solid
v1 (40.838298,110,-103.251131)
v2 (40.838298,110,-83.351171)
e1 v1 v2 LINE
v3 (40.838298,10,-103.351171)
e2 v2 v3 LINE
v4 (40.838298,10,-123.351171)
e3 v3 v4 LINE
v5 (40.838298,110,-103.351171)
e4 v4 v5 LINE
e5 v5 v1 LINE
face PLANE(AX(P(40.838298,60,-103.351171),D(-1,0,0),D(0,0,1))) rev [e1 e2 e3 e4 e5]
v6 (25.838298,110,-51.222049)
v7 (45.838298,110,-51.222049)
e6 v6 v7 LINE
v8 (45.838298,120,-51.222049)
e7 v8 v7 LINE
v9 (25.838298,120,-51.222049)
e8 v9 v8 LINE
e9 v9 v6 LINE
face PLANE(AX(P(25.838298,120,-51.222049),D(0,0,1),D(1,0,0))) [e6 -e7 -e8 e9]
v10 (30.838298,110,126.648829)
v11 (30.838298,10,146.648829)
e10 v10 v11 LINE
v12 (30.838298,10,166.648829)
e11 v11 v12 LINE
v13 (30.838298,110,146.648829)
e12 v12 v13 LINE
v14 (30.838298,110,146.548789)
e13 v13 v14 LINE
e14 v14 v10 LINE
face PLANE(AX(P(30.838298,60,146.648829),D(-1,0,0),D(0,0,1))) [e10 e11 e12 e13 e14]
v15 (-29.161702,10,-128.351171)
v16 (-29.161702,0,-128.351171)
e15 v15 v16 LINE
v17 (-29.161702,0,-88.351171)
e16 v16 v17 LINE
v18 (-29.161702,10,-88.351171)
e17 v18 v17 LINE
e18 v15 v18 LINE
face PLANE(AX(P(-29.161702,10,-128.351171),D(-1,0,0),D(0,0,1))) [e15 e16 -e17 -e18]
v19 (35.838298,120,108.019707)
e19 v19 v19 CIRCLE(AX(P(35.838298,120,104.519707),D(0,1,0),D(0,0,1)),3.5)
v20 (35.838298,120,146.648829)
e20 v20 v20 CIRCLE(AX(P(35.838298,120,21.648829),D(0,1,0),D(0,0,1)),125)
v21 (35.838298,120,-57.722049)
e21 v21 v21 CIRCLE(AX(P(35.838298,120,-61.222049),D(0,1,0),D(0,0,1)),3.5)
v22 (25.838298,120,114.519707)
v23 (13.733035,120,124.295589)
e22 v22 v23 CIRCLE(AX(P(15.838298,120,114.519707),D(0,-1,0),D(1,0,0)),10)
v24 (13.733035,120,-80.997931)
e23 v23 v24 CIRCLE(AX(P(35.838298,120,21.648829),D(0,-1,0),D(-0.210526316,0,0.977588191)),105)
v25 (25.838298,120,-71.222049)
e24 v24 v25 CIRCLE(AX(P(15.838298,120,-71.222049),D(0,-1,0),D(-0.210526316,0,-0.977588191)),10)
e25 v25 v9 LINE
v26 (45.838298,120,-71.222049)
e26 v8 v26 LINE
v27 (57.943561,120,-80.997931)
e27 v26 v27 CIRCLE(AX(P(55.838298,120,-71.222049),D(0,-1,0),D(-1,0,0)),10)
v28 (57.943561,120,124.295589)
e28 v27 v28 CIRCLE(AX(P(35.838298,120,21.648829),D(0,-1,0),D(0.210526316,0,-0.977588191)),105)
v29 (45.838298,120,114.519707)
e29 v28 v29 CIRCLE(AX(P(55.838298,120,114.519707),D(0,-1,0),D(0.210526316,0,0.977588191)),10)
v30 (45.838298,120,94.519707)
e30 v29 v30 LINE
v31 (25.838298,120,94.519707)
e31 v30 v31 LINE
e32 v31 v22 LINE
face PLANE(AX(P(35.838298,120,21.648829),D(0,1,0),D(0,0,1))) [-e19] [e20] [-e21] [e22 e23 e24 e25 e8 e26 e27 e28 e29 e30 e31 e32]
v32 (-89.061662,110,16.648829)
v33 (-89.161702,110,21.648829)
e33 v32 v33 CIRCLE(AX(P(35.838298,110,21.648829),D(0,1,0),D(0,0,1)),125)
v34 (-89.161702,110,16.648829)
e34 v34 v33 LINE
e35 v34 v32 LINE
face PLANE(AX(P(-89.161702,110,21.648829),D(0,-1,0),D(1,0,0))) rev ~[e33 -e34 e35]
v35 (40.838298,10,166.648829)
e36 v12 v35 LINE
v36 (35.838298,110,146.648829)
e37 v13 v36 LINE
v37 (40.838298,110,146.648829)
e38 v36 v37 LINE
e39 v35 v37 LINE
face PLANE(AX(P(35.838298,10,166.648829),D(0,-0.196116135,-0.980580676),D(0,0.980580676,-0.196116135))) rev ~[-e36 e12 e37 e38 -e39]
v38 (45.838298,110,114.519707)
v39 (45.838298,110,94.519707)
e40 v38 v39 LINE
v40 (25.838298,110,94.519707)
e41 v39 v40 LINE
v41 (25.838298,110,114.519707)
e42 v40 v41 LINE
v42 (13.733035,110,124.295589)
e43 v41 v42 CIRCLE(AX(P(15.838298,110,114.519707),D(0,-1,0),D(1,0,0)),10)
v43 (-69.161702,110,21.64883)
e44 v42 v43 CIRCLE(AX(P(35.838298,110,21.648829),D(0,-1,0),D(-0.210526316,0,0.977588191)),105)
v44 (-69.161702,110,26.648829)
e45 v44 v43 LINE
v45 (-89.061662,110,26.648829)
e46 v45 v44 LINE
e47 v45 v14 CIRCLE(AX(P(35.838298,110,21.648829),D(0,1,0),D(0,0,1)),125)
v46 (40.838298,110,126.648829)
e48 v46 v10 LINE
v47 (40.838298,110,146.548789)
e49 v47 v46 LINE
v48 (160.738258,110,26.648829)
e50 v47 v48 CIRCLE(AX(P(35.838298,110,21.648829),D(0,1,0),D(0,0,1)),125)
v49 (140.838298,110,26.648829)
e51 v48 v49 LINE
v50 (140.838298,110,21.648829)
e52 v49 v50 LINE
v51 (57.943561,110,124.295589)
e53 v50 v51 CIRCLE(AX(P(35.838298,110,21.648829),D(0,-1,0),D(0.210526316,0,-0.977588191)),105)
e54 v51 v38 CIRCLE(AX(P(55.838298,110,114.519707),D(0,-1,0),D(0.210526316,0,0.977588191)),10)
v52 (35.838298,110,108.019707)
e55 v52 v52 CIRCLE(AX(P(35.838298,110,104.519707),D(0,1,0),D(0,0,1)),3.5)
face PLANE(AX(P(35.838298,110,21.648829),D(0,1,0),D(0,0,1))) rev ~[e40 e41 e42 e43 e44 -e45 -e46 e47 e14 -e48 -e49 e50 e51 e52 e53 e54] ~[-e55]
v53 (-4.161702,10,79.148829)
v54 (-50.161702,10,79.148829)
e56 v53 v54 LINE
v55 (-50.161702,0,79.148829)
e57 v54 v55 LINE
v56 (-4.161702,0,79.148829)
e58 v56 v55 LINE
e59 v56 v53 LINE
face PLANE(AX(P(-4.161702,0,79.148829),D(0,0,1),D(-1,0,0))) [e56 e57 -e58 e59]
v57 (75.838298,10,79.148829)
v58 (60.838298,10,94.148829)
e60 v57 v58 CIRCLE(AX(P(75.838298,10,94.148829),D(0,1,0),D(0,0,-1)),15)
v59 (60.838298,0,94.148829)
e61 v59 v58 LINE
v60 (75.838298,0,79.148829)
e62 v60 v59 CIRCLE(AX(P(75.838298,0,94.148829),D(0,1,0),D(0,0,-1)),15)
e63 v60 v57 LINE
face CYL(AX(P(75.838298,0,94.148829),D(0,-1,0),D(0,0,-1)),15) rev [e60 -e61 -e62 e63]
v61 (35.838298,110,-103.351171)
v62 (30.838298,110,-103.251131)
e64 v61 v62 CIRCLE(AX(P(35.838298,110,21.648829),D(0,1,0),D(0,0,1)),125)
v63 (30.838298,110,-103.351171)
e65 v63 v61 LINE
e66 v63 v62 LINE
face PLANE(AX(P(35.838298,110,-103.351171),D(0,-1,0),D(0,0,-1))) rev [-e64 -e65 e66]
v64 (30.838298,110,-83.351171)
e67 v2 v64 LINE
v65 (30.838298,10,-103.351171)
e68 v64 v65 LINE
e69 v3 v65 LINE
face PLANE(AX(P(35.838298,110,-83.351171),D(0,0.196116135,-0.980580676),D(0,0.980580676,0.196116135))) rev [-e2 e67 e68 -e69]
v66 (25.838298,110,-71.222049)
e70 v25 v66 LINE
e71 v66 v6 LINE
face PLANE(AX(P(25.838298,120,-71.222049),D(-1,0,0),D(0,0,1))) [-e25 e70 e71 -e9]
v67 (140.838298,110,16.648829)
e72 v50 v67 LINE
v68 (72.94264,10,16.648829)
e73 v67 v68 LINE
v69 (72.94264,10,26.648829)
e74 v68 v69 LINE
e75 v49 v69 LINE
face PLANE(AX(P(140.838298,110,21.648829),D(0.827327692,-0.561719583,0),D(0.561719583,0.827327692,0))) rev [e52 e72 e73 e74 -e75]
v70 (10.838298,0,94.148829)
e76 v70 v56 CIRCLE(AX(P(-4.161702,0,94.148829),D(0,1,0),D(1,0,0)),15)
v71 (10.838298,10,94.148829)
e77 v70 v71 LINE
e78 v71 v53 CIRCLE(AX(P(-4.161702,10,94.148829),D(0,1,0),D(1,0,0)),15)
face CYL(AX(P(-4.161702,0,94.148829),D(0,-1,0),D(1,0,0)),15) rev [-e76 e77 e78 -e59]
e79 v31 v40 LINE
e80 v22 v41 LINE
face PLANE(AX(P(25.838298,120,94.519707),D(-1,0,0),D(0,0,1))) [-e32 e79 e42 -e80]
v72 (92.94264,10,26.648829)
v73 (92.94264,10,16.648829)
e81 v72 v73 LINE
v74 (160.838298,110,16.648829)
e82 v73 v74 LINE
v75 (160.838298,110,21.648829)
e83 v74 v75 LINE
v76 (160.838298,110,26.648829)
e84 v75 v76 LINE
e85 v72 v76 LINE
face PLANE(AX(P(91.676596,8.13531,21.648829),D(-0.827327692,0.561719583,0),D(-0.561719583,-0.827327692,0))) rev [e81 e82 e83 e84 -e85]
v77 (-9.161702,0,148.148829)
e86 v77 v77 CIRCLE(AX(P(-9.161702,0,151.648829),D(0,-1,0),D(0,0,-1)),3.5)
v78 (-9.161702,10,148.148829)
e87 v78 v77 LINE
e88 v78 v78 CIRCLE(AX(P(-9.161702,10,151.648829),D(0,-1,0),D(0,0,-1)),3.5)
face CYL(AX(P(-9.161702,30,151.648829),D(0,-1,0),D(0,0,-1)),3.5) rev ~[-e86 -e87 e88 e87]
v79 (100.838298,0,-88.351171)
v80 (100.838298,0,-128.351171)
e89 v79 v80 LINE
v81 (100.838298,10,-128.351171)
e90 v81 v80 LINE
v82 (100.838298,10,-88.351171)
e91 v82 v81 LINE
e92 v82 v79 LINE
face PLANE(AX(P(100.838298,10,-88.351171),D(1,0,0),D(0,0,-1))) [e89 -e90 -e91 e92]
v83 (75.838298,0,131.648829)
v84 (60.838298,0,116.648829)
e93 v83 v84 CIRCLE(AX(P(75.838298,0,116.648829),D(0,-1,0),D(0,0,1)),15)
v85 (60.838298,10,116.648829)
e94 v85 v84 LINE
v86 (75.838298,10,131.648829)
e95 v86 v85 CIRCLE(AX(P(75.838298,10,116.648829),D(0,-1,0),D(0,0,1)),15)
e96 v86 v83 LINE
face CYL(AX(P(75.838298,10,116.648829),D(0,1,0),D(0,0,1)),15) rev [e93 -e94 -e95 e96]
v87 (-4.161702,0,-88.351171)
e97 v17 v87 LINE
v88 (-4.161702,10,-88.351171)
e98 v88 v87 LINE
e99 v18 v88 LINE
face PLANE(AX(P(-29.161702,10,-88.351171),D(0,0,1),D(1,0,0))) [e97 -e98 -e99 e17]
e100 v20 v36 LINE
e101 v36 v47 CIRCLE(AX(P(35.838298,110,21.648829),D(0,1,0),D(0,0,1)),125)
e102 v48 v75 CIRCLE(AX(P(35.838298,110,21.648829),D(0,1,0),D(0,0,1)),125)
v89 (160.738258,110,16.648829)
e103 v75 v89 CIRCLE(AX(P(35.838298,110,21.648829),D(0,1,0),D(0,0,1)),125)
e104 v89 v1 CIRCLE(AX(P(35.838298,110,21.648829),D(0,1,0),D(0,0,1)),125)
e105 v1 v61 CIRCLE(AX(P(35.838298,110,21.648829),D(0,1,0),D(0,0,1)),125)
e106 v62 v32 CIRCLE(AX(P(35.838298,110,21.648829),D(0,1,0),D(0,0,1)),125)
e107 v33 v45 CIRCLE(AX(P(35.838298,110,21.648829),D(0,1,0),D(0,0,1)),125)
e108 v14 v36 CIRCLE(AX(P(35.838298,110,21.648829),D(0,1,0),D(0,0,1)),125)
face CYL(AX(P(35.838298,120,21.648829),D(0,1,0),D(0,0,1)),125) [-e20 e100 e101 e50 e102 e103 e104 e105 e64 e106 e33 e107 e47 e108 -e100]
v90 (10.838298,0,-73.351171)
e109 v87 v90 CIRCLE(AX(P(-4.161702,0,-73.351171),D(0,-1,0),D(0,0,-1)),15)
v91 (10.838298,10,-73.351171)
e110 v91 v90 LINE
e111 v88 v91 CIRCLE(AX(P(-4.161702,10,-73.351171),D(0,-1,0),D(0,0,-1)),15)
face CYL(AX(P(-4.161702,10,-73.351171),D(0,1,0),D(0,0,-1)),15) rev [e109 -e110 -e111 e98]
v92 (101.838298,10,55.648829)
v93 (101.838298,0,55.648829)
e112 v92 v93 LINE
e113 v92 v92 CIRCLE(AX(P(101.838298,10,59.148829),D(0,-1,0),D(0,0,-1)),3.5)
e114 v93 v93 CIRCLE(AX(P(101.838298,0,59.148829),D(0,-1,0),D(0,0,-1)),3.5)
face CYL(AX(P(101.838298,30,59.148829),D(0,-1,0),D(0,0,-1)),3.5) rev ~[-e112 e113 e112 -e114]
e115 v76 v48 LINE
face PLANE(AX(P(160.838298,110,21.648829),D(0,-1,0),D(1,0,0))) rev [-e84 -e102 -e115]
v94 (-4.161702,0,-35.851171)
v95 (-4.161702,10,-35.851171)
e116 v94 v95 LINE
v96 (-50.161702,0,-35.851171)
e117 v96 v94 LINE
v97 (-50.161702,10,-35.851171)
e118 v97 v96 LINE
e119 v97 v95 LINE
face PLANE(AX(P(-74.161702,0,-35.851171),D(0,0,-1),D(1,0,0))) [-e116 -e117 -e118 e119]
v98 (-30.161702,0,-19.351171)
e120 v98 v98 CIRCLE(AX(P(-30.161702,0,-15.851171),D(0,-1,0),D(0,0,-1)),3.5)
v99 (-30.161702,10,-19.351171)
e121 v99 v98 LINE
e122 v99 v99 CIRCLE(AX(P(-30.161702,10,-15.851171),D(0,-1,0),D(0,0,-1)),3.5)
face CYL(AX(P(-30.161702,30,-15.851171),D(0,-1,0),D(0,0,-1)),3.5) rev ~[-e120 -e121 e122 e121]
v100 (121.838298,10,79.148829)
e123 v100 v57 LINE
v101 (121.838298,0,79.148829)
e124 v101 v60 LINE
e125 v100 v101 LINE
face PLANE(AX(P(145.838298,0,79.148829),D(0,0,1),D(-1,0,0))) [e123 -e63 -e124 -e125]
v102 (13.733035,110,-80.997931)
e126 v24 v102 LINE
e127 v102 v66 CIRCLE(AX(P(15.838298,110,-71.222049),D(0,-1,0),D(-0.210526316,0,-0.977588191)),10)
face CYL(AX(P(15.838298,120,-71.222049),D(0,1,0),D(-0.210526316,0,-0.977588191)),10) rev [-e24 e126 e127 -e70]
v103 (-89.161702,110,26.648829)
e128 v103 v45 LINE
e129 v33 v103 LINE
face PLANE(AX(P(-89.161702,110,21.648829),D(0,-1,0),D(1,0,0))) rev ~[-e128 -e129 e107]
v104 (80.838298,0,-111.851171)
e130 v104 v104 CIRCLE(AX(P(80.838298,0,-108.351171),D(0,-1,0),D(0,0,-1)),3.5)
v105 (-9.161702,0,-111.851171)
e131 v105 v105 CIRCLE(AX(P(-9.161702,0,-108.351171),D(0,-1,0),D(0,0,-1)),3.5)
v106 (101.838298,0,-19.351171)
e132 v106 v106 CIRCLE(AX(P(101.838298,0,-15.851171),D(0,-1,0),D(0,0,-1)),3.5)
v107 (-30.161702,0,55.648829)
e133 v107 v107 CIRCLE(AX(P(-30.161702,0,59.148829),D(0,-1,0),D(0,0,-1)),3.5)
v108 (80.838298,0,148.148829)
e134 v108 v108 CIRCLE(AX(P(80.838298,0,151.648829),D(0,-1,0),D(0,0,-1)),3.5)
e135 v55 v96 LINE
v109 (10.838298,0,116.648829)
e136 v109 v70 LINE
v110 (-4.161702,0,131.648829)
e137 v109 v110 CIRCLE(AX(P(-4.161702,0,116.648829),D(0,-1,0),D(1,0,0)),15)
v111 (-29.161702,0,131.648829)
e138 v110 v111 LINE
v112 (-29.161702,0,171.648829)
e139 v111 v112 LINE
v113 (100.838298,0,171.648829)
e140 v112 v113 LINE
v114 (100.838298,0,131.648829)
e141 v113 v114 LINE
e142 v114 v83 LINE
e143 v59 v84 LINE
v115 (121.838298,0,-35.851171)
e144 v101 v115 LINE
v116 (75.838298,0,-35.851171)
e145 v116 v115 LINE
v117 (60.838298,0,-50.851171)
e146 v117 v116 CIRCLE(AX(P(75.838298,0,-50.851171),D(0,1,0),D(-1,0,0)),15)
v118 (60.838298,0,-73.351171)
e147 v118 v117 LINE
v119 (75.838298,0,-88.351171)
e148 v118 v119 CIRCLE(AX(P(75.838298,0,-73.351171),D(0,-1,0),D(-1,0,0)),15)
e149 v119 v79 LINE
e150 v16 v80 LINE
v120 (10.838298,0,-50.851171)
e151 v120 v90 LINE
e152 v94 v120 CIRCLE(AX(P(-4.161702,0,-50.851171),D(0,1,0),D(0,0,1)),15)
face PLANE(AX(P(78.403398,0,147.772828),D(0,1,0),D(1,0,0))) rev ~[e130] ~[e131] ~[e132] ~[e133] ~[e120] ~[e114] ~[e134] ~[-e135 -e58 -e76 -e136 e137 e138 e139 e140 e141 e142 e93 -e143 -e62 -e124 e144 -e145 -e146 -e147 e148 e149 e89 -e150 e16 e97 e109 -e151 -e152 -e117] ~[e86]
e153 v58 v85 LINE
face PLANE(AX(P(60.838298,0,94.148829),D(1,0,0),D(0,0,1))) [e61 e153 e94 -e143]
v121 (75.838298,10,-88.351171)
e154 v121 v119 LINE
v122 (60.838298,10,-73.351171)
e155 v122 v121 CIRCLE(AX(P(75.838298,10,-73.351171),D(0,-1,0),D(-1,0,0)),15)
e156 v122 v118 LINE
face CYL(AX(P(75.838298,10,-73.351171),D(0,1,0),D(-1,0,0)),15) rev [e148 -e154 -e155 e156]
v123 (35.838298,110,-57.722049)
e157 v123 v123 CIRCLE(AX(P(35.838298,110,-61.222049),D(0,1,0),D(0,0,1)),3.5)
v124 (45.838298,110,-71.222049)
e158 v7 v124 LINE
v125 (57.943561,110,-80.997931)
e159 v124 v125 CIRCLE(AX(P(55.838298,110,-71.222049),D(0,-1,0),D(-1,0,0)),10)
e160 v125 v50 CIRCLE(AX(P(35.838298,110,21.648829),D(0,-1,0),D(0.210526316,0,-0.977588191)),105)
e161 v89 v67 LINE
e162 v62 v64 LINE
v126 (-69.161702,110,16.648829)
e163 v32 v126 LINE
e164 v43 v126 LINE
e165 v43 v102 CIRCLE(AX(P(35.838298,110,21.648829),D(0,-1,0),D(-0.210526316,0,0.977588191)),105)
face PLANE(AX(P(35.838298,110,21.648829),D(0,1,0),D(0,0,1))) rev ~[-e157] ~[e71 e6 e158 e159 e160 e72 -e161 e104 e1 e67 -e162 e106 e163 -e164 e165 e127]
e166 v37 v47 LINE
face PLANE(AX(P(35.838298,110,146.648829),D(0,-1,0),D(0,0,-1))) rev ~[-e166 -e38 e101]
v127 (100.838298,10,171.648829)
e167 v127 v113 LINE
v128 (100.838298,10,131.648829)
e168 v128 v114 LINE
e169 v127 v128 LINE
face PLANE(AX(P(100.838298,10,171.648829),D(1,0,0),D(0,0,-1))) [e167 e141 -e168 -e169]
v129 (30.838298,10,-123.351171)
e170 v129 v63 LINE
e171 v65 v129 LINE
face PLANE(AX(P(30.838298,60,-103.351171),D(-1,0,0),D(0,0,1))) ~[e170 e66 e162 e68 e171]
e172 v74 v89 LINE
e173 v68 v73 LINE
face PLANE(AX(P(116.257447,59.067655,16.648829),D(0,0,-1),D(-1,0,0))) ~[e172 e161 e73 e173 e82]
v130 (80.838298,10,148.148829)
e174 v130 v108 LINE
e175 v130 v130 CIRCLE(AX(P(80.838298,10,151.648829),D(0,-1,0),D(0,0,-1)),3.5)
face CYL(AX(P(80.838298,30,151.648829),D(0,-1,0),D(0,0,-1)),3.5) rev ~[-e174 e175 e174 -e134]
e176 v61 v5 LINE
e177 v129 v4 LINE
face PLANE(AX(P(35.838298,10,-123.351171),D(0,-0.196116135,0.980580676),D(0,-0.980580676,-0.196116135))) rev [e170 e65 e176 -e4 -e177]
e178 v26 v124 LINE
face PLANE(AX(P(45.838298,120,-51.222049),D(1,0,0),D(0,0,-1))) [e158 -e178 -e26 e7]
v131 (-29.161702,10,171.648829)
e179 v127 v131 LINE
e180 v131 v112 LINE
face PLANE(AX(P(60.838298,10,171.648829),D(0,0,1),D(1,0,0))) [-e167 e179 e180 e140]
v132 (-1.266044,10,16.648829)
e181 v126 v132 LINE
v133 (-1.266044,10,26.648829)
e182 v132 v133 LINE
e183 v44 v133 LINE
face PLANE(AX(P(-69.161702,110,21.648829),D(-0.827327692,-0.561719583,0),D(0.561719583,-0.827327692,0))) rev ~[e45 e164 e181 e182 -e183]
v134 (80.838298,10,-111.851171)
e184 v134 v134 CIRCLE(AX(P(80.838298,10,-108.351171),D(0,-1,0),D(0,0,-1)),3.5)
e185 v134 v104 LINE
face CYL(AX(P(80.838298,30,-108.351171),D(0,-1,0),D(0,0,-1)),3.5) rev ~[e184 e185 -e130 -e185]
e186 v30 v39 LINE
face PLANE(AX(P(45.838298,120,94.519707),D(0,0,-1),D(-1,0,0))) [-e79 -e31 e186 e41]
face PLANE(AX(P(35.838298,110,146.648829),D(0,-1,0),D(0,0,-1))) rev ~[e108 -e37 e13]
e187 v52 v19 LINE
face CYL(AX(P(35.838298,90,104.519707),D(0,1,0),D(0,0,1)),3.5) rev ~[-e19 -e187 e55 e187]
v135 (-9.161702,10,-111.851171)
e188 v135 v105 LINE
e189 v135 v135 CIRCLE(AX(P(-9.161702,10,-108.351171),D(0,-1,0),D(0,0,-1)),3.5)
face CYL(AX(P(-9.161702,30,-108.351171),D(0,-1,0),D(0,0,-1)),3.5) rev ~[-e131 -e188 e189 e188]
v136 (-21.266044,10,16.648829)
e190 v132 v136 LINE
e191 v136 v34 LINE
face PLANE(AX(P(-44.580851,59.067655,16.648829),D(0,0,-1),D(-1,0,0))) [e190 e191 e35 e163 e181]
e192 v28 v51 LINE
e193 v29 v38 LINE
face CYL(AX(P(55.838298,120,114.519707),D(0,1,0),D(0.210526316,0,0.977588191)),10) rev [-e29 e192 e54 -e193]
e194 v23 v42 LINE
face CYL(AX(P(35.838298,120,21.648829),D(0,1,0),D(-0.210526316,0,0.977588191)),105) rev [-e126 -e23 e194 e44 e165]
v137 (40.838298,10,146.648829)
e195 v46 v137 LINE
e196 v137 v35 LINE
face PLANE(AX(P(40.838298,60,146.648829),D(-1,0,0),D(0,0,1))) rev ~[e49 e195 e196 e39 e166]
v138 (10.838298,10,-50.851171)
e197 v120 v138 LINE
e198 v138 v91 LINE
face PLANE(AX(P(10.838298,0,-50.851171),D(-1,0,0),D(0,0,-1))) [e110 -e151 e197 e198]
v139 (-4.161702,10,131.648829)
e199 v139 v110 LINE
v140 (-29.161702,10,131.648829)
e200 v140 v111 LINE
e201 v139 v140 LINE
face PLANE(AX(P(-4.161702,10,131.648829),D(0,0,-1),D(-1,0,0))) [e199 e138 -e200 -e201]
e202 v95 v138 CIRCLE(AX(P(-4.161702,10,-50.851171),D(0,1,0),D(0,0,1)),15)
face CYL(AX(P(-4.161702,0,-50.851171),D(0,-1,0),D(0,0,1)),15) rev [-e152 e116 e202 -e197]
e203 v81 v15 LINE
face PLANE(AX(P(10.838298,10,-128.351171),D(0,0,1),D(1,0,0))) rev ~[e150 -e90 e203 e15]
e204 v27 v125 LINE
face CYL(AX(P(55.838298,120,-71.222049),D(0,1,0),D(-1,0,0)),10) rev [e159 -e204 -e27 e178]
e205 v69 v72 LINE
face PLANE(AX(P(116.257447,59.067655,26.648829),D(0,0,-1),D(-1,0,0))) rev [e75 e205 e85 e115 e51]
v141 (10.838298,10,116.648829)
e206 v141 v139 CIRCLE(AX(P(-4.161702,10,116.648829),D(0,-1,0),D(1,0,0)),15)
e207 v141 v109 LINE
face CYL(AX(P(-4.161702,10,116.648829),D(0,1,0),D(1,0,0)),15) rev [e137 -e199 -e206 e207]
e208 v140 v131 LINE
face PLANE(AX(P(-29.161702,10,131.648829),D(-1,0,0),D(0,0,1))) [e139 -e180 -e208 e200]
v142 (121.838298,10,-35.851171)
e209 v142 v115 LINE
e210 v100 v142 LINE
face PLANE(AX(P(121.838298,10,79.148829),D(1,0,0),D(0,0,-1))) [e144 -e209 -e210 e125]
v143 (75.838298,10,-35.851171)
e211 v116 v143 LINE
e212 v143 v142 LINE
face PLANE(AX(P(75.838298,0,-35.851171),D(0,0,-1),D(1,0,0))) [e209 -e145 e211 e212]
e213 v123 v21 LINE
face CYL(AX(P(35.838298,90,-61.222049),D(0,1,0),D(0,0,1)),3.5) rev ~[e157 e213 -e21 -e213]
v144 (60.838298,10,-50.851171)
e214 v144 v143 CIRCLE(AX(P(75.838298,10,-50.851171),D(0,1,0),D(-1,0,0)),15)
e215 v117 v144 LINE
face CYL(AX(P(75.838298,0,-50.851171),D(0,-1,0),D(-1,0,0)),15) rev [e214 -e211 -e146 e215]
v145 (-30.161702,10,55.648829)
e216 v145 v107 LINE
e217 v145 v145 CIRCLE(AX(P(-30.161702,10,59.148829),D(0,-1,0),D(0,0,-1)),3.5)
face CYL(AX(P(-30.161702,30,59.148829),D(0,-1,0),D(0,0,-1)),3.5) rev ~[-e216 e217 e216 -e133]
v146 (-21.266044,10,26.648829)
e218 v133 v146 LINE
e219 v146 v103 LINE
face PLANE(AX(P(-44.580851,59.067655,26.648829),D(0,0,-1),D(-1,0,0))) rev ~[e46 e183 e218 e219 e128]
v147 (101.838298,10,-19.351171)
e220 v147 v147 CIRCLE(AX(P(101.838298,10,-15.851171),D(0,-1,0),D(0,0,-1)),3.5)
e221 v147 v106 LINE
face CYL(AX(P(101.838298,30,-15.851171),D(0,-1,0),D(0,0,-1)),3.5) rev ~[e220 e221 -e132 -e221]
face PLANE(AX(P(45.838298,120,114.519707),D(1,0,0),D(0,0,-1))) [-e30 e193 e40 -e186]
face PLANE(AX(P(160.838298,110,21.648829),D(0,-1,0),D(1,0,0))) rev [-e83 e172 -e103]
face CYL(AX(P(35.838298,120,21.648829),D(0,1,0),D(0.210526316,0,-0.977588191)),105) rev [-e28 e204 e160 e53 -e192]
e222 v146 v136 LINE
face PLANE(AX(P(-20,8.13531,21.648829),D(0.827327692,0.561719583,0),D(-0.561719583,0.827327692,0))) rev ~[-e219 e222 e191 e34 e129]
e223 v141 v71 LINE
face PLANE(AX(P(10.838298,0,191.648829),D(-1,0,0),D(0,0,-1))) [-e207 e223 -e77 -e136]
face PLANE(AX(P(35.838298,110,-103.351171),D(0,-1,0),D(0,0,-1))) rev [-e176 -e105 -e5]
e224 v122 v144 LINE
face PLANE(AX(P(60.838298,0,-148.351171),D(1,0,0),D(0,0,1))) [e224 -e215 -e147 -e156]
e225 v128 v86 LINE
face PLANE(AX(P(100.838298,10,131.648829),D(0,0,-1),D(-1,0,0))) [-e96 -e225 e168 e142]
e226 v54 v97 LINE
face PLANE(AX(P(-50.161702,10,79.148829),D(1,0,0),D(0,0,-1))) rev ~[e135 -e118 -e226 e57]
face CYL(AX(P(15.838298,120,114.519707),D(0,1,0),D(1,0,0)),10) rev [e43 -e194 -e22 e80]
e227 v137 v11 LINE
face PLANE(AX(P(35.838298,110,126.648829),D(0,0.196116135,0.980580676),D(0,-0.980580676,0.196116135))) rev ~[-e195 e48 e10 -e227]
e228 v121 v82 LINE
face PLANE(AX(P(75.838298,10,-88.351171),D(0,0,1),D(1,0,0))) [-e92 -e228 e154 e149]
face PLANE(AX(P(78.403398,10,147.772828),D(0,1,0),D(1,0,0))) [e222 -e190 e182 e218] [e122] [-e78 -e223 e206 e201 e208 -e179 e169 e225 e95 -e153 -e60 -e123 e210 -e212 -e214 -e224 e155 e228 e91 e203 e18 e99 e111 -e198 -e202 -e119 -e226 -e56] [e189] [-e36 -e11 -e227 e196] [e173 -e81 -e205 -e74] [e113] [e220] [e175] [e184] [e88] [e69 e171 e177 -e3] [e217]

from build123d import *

# Parameters (mm, degrees)
AUFSATZ_LINEAR_AUSTRAGEN1_DEPTH    = 10
SKIZZE6_R                          = 125
AUFSATZ_LINEAR_AUSTRAGEN2_DEPTH    = 10
AUFSATZ_LINEAR_AUSTRAGEN3_DEPTH    = 5
SKIZZE8_W                          = 50
SKIZZE8_H                          = 20
SCHNITT_LINEAR_AUSTRAGEN1_DEPTH    = 10
AUFSATZ_LINEAR_AUSTRAGEN4_DEPTH    = 10
SKIZZE14_W                         = 24
SKIZZE14_H                         = 115
SCHNITT_LINEAR_AUSTRAGEN2_DEPTH    = 10
SKIZZE15_W                         = 24
SKIZZE15_H                         = 115
SCHNITT_LINEAR_AUSTRAGEN3_DEPTH    = 10
AUFSATZ_LINEAR_AUSTRAGEN8_DEPTH    = 5
KERNLOCH_F_R_M8X1_0_GEWINDE2_D     = 7
KERNLOCH_F_R_M8X1_0_GEWINDE2_DEPTH = 20
KERNLOCH_F_R_M8X1_0_GEWINDE2_TIP   = 2.103012167
KERNLOCH_F_R_M8X1_0_GEWINDE3_D     = 7
KERNLOCH_F_R_M8X1_0_GEWINDE3_DEPTH = 20
KERNLOCH_F_R_M8X1_0_GEWINDE3_TIP   = 2.103012167


with BuildPart() as part:
    # Skizze1 → Aufsatz-Linear austragen1 (new body)
    with BuildSketch(Plane(origin=(0, 0, 0), x_dir=(1, 0, 0), z_dir=(0, 1, 0))):
        with BuildLine():
            Line((75.838298065, 35.851170731), (145.838298065, 35.851170731))
            Line((145.838298065, 35.851170731), (145.838298065, -79.148829269))
            Line((145.838298065, -79.148829269), (75.838298065, -79.148829269))
            ThreePointArc((75.838298065, -79.148829269), (65.231696347, -83.542227551), (60.838298065, -94.148829269))
            Line((60.838298065, -94.148829269), (60.838298065, -191.648829269))
            Line((60.838298065, -191.648829269), (10.838298065, -191.648829269))
            Line((10.838298065, -191.648829269), (10.838298065, -94.148829269))
            ThreePointArc((10.838298065, -94.148829269), (6.444899783, -83.542227551), (-4.161701935, -79.148829269))
            Line((-4.161701935, -79.148829269), (-74.161701935, -79.148829269))
            Line((-74.161701935, -79.148829269), (-74.161701935, 35.851170731))
            Line((-74.161701935, 35.851170731), (-4.161701935, 35.851170731))
            ThreePointArc((-4.161701935, 35.851170731), (6.444899783, 40.244569014), (10.838298065, 50.851170731))
            Line((10.838298065, 50.851170731), (10.838298065, 148.351170731))
            Line((10.838298065, 148.351170731), (60.838298065, 148.351170731))
            Line((60.838298065, 148.351170731), (60.838298065, 50.851170731))
            ThreePointArc((60.838298065, 50.851170731), (65.231696347, 40.244569014), (75.838298065, 35.851170731))
        make_face()
    extrude(amount=AUFSATZ_LINEAR_AUSTRAGEN1_DEPTH)



with BuildPart() as body_2:
    # Skizze6 → Aufsatz-Linear austragen2 (new body)
    with BuildSketch(Plane(origin=(0, 120, 0), x_dir=(1, 0, 0), z_dir=(0, 1, 0))):
        with Locations(Location((35.838298065, -21.648829269, 0), (0, 0, 270))):  # turned: the seam where the file's is
            Circle(SKIZZE6_R)
        with BuildLine():
            Line((25.838298065, 71.222048837), (25.838298065, 51.222048837))
            Line((25.838298065, 51.222048837), (45.838298065, 51.222048837))
            Line((45.838298065, 51.222048837), (45.838298065, 71.222048837))
            ThreePointArc((45.838298065, 71.222048837), (49.55548944, 79.001914889), (57.943561223, 80.997930742))
            ThreePointArc((57.943561223, 80.997930742), (140.838298065, -21.648829269), (57.943561223, -124.295589279))
            ThreePointArc((57.943561223, -124.295589279), (49.55548944, -122.299573426), (45.838298065, -114.519707374))
            Line((45.838298065, -114.519707374), (45.838298065, -94.519707374))
            Line((45.838298065, -94.519707374), (25.838298065, -94.519707374))
            Line((25.838298065, -94.519707374), (25.838298065, -114.519707374))
            ThreePointArc((25.838298065, -114.519707374), (22.121106689, -122.299573426), (13.733034907, -124.295589279))
            ThreePointArc((13.733034907, -124.295589279), (-69.161701935, -21.648829269), (13.733034907, 80.997930742))
            ThreePointArc((13.733034907, 80.997930742), (22.121106689, 79.001914889), (25.838298065, 71.222048837))
        make_face(mode=Mode.SUBTRACT)
    extrude(amount=-AUFSATZ_LINEAR_AUSTRAGEN2_DEPTH)


with BuildPart() as part_1:
    add(part.part)

    add(body_2.part)  # Aufsatz-Linear austragen3 merges body 2
    # Skizze7 → Aufsatz-Linear austragen3 (add, symmetric)
    with BuildSketch(Plane(origin=(35.838298065, 0, 0), x_dir=(0, 0, -1), z_dir=(1, 0, 0))):
        Polygon((-146.648829269, 110), (-126.648829269, 110), (-146.648829269, 10), (-166.648829269, 10), align=None)
    aufsatz_linear_austragen3 = extrude(amount=AUFSATZ_LINEAR_AUSTRAGEN3_DEPTH, both=True)

    # Spiegeln1: Aufsatz-Linear austragen3 across plane
    add(aufsatz_linear_austragen3.mirror(Plane.XY.offset(21.648829269)))

    # Skizze8 → Schnitt-Linear austragen1 (cut)
    with BuildSketch(Plane(origin=(0, 10, 0), x_dir=(1, 0, 0), z_dir=(0, 1, 0))):
        with Locations((35.838298065, 138.351170731)):
            Rectangle(SKIZZE8_W, SKIZZE8_H)
        with Locations((35.838298065, -181.648829269)):
            Rectangle(SKIZZE8_W, SKIZZE8_H)
    extrude(amount=-SCHNITT_LINEAR_AUSTRAGEN1_DEPTH, mode=Mode.SUBTRACT)

    # Skizze9 → Aufsatz-Linear austragen4 (add)
    with BuildSketch(Plane(origin=(0, 10, 0), x_dir=(1, 0, 0), z_dir=(0, 1, 0))):
        with BuildLine():
            Line((60.838298065, -131.648829269), (60.838298065, -171.648829269))
            Line((60.838298065, -171.648829269), (100.838298065, -171.648829269))
            Line((100.838298065, -171.648829269), (100.838298065, -131.648829269))
            Line((100.838298065, -131.648829269), (75.838298065, -131.648829269))
            ThreePointArc((75.838298065, -131.648829269), (65.231696347, -127.255430986), (60.838298065, -116.648829269))
            Line((60.838298065, -116.648829269), (60.838298065, -131.648829269))
        make_face()
        with BuildLine():
            Line((-29.161701935, -171.648829269), (10.838298065, -171.648829269))
            Line((10.838298065, -171.648829269), (10.838298065, -131.648829269))
            Line((10.838298065, -131.648829269), (10.838298065, -116.648829269))
            ThreePointArc((10.838298065, -116.648829269), (6.444899783, -127.255430986), (-4.161701935, -131.648829269))
            Line((-4.161701935, -131.648829269), (-29.161701935, -131.648829269))
            Line((-29.161701935, -131.648829269), (-29.161701935, -171.648829269))
        make_face()
        with BuildLine():
            Line((100.838298065, 128.351170731), (60.838298065, 128.351170731))
            Line((60.838298065, 128.351170731), (60.838298065, 88.351170731))
            Line((60.838298065, 88.351170731), (60.838298065, 73.351170731))
            ThreePointArc((60.838298065, 73.351170731), (65.231696347, 83.957772449), (75.838298065, 88.351170731))
            Line((75.838298065, 88.351170731), (100.838298065, 88.351170731))
            Line((100.838298065, 88.351170731), (100.838298065, 128.351170731))
        make_face()
        with BuildLine():
            Line((10.838298065, 88.351170731), (10.838298065, 128.351170731))
            Line((10.838298065, 128.351170731), (-29.161701935, 128.351170731))
            Line((-29.161701935, 128.351170731), (-29.161701935, 88.351170731))
            Line((-29.161701935, 88.351170731), (-4.161701935, 88.351170731))
            ThreePointArc((-4.161701935, 88.351170731), (6.444899783, 83.957772449), (10.838298065, 73.351170731))
            Line((10.838298065, 73.351170731), (10.838298065, 88.351170731))
        make_face()
    extrude(amount=-AUFSATZ_LINEAR_AUSTRAGEN4_DEPTH)

    # Skizze14 → Schnitt-Linear austragen2 (cut)
    with BuildSketch(Plane(origin=(0, 10, 0), x_dir=(1, 0, 0), z_dir=(0, 1, 0))):
        with Locations((133.838298065, -21.648829269)):
            Rectangle(SKIZZE14_W, SKIZZE14_H)
    extrude(amount=-SCHNITT_LINEAR_AUSTRAGEN2_DEPTH, mode=Mode.SUBTRACT)

    # Skizze15 → Schnitt-Linear austragen3 (cut)
    with BuildSketch(Plane(origin=(0, 10, 0), x_dir=(1, 0, 0), z_dir=(0, 1, 0))):
        with Locations((-62.161701935, -21.648829269)):
            Rectangle(SKIZZE15_W, SKIZZE15_H)
    extrude(amount=-SCHNITT_LINEAR_AUSTRAGEN3_DEPTH, mode=Mode.SUBTRACT)

    # Skizze16 → Aufsatz-Linear austragen8 (add, symmetric)
    with BuildSketch(Plane.XY.offset(21.648829269)):
        Polygon((-89.161701935, 110), (-69.161701935, 110), (0, 8.135310029), (-20, 8.135310029), align=None)
    aufsatz_linear_austragen8 = extrude(amount=AUFSATZ_LINEAR_AUSTRAGEN8_DEPTH, both=True)

    # Spiegeln5: Aufsatz-Linear austragen8 across plane
    add(aufsatz_linear_austragen8.mirror(Plane(origin=(35.838298065, 0, 0), x_dir=(0, 0, 1), z_dir=(1, 0, 0))))

    # Kernloch für M8x1.0 Gewinde2
    with Locations(Plane(origin=(35.838298065, 110, -61.222048837), x_dir=(0, 0, -1), z_dir=(0, -1, 0))):
        with Locations((0, 0), (-165.741756211, 0)):
            Hole(KERNLOCH_F_R_M8X1_0_GEWINDE2_D / 2, depth=KERNLOCH_F_R_M8X1_0_GEWINDE2_DEPTH)
            with Locations((0, 0, -(KERNLOCH_F_R_M8X1_0_GEWINDE2_DEPTH + KERNLOCH_F_R_M8X1_0_GEWINDE2_TIP / 2))):  # 118° drill point
                Cone(0, KERNLOCH_F_R_M8X1_0_GEWINDE2_D / 2, KERNLOCH_F_R_M8X1_0_GEWINDE2_TIP, mode=Mode.SUBTRACT)

    # Kernloch für M8x1.0 Gewinde3
    with Locations(Plane(origin=(101.838298065, 10, -15.851170731), x_dir=(0, 0, 1), z_dir=(0, 1, 0))):
        with Locations((0, 0), (75, 0), (0, -132), (-92.5, -111), (75, -132), (167.5, -111), (167.5, -21), (-92.5, -21)):
            Hole(KERNLOCH_F_R_M8X1_0_GEWINDE3_D / 2, depth=KERNLOCH_F_R_M8X1_0_GEWINDE3_DEPTH)
            with Locations((0, 0, -(KERNLOCH_F_R_M8X1_0_GEWINDE3_DEPTH + KERNLOCH_F_R_M8X1_0_GEWINDE3_TIP / 2))):  # 118° drill point
                Cone(0, KERNLOCH_F_R_M8X1_0_GEWINDE3_D / 2, KERNLOCH_F_R_M8X1_0_GEWINDE3_TIP, mode=Mode.SUBTRACT)


solid = part_1.part
